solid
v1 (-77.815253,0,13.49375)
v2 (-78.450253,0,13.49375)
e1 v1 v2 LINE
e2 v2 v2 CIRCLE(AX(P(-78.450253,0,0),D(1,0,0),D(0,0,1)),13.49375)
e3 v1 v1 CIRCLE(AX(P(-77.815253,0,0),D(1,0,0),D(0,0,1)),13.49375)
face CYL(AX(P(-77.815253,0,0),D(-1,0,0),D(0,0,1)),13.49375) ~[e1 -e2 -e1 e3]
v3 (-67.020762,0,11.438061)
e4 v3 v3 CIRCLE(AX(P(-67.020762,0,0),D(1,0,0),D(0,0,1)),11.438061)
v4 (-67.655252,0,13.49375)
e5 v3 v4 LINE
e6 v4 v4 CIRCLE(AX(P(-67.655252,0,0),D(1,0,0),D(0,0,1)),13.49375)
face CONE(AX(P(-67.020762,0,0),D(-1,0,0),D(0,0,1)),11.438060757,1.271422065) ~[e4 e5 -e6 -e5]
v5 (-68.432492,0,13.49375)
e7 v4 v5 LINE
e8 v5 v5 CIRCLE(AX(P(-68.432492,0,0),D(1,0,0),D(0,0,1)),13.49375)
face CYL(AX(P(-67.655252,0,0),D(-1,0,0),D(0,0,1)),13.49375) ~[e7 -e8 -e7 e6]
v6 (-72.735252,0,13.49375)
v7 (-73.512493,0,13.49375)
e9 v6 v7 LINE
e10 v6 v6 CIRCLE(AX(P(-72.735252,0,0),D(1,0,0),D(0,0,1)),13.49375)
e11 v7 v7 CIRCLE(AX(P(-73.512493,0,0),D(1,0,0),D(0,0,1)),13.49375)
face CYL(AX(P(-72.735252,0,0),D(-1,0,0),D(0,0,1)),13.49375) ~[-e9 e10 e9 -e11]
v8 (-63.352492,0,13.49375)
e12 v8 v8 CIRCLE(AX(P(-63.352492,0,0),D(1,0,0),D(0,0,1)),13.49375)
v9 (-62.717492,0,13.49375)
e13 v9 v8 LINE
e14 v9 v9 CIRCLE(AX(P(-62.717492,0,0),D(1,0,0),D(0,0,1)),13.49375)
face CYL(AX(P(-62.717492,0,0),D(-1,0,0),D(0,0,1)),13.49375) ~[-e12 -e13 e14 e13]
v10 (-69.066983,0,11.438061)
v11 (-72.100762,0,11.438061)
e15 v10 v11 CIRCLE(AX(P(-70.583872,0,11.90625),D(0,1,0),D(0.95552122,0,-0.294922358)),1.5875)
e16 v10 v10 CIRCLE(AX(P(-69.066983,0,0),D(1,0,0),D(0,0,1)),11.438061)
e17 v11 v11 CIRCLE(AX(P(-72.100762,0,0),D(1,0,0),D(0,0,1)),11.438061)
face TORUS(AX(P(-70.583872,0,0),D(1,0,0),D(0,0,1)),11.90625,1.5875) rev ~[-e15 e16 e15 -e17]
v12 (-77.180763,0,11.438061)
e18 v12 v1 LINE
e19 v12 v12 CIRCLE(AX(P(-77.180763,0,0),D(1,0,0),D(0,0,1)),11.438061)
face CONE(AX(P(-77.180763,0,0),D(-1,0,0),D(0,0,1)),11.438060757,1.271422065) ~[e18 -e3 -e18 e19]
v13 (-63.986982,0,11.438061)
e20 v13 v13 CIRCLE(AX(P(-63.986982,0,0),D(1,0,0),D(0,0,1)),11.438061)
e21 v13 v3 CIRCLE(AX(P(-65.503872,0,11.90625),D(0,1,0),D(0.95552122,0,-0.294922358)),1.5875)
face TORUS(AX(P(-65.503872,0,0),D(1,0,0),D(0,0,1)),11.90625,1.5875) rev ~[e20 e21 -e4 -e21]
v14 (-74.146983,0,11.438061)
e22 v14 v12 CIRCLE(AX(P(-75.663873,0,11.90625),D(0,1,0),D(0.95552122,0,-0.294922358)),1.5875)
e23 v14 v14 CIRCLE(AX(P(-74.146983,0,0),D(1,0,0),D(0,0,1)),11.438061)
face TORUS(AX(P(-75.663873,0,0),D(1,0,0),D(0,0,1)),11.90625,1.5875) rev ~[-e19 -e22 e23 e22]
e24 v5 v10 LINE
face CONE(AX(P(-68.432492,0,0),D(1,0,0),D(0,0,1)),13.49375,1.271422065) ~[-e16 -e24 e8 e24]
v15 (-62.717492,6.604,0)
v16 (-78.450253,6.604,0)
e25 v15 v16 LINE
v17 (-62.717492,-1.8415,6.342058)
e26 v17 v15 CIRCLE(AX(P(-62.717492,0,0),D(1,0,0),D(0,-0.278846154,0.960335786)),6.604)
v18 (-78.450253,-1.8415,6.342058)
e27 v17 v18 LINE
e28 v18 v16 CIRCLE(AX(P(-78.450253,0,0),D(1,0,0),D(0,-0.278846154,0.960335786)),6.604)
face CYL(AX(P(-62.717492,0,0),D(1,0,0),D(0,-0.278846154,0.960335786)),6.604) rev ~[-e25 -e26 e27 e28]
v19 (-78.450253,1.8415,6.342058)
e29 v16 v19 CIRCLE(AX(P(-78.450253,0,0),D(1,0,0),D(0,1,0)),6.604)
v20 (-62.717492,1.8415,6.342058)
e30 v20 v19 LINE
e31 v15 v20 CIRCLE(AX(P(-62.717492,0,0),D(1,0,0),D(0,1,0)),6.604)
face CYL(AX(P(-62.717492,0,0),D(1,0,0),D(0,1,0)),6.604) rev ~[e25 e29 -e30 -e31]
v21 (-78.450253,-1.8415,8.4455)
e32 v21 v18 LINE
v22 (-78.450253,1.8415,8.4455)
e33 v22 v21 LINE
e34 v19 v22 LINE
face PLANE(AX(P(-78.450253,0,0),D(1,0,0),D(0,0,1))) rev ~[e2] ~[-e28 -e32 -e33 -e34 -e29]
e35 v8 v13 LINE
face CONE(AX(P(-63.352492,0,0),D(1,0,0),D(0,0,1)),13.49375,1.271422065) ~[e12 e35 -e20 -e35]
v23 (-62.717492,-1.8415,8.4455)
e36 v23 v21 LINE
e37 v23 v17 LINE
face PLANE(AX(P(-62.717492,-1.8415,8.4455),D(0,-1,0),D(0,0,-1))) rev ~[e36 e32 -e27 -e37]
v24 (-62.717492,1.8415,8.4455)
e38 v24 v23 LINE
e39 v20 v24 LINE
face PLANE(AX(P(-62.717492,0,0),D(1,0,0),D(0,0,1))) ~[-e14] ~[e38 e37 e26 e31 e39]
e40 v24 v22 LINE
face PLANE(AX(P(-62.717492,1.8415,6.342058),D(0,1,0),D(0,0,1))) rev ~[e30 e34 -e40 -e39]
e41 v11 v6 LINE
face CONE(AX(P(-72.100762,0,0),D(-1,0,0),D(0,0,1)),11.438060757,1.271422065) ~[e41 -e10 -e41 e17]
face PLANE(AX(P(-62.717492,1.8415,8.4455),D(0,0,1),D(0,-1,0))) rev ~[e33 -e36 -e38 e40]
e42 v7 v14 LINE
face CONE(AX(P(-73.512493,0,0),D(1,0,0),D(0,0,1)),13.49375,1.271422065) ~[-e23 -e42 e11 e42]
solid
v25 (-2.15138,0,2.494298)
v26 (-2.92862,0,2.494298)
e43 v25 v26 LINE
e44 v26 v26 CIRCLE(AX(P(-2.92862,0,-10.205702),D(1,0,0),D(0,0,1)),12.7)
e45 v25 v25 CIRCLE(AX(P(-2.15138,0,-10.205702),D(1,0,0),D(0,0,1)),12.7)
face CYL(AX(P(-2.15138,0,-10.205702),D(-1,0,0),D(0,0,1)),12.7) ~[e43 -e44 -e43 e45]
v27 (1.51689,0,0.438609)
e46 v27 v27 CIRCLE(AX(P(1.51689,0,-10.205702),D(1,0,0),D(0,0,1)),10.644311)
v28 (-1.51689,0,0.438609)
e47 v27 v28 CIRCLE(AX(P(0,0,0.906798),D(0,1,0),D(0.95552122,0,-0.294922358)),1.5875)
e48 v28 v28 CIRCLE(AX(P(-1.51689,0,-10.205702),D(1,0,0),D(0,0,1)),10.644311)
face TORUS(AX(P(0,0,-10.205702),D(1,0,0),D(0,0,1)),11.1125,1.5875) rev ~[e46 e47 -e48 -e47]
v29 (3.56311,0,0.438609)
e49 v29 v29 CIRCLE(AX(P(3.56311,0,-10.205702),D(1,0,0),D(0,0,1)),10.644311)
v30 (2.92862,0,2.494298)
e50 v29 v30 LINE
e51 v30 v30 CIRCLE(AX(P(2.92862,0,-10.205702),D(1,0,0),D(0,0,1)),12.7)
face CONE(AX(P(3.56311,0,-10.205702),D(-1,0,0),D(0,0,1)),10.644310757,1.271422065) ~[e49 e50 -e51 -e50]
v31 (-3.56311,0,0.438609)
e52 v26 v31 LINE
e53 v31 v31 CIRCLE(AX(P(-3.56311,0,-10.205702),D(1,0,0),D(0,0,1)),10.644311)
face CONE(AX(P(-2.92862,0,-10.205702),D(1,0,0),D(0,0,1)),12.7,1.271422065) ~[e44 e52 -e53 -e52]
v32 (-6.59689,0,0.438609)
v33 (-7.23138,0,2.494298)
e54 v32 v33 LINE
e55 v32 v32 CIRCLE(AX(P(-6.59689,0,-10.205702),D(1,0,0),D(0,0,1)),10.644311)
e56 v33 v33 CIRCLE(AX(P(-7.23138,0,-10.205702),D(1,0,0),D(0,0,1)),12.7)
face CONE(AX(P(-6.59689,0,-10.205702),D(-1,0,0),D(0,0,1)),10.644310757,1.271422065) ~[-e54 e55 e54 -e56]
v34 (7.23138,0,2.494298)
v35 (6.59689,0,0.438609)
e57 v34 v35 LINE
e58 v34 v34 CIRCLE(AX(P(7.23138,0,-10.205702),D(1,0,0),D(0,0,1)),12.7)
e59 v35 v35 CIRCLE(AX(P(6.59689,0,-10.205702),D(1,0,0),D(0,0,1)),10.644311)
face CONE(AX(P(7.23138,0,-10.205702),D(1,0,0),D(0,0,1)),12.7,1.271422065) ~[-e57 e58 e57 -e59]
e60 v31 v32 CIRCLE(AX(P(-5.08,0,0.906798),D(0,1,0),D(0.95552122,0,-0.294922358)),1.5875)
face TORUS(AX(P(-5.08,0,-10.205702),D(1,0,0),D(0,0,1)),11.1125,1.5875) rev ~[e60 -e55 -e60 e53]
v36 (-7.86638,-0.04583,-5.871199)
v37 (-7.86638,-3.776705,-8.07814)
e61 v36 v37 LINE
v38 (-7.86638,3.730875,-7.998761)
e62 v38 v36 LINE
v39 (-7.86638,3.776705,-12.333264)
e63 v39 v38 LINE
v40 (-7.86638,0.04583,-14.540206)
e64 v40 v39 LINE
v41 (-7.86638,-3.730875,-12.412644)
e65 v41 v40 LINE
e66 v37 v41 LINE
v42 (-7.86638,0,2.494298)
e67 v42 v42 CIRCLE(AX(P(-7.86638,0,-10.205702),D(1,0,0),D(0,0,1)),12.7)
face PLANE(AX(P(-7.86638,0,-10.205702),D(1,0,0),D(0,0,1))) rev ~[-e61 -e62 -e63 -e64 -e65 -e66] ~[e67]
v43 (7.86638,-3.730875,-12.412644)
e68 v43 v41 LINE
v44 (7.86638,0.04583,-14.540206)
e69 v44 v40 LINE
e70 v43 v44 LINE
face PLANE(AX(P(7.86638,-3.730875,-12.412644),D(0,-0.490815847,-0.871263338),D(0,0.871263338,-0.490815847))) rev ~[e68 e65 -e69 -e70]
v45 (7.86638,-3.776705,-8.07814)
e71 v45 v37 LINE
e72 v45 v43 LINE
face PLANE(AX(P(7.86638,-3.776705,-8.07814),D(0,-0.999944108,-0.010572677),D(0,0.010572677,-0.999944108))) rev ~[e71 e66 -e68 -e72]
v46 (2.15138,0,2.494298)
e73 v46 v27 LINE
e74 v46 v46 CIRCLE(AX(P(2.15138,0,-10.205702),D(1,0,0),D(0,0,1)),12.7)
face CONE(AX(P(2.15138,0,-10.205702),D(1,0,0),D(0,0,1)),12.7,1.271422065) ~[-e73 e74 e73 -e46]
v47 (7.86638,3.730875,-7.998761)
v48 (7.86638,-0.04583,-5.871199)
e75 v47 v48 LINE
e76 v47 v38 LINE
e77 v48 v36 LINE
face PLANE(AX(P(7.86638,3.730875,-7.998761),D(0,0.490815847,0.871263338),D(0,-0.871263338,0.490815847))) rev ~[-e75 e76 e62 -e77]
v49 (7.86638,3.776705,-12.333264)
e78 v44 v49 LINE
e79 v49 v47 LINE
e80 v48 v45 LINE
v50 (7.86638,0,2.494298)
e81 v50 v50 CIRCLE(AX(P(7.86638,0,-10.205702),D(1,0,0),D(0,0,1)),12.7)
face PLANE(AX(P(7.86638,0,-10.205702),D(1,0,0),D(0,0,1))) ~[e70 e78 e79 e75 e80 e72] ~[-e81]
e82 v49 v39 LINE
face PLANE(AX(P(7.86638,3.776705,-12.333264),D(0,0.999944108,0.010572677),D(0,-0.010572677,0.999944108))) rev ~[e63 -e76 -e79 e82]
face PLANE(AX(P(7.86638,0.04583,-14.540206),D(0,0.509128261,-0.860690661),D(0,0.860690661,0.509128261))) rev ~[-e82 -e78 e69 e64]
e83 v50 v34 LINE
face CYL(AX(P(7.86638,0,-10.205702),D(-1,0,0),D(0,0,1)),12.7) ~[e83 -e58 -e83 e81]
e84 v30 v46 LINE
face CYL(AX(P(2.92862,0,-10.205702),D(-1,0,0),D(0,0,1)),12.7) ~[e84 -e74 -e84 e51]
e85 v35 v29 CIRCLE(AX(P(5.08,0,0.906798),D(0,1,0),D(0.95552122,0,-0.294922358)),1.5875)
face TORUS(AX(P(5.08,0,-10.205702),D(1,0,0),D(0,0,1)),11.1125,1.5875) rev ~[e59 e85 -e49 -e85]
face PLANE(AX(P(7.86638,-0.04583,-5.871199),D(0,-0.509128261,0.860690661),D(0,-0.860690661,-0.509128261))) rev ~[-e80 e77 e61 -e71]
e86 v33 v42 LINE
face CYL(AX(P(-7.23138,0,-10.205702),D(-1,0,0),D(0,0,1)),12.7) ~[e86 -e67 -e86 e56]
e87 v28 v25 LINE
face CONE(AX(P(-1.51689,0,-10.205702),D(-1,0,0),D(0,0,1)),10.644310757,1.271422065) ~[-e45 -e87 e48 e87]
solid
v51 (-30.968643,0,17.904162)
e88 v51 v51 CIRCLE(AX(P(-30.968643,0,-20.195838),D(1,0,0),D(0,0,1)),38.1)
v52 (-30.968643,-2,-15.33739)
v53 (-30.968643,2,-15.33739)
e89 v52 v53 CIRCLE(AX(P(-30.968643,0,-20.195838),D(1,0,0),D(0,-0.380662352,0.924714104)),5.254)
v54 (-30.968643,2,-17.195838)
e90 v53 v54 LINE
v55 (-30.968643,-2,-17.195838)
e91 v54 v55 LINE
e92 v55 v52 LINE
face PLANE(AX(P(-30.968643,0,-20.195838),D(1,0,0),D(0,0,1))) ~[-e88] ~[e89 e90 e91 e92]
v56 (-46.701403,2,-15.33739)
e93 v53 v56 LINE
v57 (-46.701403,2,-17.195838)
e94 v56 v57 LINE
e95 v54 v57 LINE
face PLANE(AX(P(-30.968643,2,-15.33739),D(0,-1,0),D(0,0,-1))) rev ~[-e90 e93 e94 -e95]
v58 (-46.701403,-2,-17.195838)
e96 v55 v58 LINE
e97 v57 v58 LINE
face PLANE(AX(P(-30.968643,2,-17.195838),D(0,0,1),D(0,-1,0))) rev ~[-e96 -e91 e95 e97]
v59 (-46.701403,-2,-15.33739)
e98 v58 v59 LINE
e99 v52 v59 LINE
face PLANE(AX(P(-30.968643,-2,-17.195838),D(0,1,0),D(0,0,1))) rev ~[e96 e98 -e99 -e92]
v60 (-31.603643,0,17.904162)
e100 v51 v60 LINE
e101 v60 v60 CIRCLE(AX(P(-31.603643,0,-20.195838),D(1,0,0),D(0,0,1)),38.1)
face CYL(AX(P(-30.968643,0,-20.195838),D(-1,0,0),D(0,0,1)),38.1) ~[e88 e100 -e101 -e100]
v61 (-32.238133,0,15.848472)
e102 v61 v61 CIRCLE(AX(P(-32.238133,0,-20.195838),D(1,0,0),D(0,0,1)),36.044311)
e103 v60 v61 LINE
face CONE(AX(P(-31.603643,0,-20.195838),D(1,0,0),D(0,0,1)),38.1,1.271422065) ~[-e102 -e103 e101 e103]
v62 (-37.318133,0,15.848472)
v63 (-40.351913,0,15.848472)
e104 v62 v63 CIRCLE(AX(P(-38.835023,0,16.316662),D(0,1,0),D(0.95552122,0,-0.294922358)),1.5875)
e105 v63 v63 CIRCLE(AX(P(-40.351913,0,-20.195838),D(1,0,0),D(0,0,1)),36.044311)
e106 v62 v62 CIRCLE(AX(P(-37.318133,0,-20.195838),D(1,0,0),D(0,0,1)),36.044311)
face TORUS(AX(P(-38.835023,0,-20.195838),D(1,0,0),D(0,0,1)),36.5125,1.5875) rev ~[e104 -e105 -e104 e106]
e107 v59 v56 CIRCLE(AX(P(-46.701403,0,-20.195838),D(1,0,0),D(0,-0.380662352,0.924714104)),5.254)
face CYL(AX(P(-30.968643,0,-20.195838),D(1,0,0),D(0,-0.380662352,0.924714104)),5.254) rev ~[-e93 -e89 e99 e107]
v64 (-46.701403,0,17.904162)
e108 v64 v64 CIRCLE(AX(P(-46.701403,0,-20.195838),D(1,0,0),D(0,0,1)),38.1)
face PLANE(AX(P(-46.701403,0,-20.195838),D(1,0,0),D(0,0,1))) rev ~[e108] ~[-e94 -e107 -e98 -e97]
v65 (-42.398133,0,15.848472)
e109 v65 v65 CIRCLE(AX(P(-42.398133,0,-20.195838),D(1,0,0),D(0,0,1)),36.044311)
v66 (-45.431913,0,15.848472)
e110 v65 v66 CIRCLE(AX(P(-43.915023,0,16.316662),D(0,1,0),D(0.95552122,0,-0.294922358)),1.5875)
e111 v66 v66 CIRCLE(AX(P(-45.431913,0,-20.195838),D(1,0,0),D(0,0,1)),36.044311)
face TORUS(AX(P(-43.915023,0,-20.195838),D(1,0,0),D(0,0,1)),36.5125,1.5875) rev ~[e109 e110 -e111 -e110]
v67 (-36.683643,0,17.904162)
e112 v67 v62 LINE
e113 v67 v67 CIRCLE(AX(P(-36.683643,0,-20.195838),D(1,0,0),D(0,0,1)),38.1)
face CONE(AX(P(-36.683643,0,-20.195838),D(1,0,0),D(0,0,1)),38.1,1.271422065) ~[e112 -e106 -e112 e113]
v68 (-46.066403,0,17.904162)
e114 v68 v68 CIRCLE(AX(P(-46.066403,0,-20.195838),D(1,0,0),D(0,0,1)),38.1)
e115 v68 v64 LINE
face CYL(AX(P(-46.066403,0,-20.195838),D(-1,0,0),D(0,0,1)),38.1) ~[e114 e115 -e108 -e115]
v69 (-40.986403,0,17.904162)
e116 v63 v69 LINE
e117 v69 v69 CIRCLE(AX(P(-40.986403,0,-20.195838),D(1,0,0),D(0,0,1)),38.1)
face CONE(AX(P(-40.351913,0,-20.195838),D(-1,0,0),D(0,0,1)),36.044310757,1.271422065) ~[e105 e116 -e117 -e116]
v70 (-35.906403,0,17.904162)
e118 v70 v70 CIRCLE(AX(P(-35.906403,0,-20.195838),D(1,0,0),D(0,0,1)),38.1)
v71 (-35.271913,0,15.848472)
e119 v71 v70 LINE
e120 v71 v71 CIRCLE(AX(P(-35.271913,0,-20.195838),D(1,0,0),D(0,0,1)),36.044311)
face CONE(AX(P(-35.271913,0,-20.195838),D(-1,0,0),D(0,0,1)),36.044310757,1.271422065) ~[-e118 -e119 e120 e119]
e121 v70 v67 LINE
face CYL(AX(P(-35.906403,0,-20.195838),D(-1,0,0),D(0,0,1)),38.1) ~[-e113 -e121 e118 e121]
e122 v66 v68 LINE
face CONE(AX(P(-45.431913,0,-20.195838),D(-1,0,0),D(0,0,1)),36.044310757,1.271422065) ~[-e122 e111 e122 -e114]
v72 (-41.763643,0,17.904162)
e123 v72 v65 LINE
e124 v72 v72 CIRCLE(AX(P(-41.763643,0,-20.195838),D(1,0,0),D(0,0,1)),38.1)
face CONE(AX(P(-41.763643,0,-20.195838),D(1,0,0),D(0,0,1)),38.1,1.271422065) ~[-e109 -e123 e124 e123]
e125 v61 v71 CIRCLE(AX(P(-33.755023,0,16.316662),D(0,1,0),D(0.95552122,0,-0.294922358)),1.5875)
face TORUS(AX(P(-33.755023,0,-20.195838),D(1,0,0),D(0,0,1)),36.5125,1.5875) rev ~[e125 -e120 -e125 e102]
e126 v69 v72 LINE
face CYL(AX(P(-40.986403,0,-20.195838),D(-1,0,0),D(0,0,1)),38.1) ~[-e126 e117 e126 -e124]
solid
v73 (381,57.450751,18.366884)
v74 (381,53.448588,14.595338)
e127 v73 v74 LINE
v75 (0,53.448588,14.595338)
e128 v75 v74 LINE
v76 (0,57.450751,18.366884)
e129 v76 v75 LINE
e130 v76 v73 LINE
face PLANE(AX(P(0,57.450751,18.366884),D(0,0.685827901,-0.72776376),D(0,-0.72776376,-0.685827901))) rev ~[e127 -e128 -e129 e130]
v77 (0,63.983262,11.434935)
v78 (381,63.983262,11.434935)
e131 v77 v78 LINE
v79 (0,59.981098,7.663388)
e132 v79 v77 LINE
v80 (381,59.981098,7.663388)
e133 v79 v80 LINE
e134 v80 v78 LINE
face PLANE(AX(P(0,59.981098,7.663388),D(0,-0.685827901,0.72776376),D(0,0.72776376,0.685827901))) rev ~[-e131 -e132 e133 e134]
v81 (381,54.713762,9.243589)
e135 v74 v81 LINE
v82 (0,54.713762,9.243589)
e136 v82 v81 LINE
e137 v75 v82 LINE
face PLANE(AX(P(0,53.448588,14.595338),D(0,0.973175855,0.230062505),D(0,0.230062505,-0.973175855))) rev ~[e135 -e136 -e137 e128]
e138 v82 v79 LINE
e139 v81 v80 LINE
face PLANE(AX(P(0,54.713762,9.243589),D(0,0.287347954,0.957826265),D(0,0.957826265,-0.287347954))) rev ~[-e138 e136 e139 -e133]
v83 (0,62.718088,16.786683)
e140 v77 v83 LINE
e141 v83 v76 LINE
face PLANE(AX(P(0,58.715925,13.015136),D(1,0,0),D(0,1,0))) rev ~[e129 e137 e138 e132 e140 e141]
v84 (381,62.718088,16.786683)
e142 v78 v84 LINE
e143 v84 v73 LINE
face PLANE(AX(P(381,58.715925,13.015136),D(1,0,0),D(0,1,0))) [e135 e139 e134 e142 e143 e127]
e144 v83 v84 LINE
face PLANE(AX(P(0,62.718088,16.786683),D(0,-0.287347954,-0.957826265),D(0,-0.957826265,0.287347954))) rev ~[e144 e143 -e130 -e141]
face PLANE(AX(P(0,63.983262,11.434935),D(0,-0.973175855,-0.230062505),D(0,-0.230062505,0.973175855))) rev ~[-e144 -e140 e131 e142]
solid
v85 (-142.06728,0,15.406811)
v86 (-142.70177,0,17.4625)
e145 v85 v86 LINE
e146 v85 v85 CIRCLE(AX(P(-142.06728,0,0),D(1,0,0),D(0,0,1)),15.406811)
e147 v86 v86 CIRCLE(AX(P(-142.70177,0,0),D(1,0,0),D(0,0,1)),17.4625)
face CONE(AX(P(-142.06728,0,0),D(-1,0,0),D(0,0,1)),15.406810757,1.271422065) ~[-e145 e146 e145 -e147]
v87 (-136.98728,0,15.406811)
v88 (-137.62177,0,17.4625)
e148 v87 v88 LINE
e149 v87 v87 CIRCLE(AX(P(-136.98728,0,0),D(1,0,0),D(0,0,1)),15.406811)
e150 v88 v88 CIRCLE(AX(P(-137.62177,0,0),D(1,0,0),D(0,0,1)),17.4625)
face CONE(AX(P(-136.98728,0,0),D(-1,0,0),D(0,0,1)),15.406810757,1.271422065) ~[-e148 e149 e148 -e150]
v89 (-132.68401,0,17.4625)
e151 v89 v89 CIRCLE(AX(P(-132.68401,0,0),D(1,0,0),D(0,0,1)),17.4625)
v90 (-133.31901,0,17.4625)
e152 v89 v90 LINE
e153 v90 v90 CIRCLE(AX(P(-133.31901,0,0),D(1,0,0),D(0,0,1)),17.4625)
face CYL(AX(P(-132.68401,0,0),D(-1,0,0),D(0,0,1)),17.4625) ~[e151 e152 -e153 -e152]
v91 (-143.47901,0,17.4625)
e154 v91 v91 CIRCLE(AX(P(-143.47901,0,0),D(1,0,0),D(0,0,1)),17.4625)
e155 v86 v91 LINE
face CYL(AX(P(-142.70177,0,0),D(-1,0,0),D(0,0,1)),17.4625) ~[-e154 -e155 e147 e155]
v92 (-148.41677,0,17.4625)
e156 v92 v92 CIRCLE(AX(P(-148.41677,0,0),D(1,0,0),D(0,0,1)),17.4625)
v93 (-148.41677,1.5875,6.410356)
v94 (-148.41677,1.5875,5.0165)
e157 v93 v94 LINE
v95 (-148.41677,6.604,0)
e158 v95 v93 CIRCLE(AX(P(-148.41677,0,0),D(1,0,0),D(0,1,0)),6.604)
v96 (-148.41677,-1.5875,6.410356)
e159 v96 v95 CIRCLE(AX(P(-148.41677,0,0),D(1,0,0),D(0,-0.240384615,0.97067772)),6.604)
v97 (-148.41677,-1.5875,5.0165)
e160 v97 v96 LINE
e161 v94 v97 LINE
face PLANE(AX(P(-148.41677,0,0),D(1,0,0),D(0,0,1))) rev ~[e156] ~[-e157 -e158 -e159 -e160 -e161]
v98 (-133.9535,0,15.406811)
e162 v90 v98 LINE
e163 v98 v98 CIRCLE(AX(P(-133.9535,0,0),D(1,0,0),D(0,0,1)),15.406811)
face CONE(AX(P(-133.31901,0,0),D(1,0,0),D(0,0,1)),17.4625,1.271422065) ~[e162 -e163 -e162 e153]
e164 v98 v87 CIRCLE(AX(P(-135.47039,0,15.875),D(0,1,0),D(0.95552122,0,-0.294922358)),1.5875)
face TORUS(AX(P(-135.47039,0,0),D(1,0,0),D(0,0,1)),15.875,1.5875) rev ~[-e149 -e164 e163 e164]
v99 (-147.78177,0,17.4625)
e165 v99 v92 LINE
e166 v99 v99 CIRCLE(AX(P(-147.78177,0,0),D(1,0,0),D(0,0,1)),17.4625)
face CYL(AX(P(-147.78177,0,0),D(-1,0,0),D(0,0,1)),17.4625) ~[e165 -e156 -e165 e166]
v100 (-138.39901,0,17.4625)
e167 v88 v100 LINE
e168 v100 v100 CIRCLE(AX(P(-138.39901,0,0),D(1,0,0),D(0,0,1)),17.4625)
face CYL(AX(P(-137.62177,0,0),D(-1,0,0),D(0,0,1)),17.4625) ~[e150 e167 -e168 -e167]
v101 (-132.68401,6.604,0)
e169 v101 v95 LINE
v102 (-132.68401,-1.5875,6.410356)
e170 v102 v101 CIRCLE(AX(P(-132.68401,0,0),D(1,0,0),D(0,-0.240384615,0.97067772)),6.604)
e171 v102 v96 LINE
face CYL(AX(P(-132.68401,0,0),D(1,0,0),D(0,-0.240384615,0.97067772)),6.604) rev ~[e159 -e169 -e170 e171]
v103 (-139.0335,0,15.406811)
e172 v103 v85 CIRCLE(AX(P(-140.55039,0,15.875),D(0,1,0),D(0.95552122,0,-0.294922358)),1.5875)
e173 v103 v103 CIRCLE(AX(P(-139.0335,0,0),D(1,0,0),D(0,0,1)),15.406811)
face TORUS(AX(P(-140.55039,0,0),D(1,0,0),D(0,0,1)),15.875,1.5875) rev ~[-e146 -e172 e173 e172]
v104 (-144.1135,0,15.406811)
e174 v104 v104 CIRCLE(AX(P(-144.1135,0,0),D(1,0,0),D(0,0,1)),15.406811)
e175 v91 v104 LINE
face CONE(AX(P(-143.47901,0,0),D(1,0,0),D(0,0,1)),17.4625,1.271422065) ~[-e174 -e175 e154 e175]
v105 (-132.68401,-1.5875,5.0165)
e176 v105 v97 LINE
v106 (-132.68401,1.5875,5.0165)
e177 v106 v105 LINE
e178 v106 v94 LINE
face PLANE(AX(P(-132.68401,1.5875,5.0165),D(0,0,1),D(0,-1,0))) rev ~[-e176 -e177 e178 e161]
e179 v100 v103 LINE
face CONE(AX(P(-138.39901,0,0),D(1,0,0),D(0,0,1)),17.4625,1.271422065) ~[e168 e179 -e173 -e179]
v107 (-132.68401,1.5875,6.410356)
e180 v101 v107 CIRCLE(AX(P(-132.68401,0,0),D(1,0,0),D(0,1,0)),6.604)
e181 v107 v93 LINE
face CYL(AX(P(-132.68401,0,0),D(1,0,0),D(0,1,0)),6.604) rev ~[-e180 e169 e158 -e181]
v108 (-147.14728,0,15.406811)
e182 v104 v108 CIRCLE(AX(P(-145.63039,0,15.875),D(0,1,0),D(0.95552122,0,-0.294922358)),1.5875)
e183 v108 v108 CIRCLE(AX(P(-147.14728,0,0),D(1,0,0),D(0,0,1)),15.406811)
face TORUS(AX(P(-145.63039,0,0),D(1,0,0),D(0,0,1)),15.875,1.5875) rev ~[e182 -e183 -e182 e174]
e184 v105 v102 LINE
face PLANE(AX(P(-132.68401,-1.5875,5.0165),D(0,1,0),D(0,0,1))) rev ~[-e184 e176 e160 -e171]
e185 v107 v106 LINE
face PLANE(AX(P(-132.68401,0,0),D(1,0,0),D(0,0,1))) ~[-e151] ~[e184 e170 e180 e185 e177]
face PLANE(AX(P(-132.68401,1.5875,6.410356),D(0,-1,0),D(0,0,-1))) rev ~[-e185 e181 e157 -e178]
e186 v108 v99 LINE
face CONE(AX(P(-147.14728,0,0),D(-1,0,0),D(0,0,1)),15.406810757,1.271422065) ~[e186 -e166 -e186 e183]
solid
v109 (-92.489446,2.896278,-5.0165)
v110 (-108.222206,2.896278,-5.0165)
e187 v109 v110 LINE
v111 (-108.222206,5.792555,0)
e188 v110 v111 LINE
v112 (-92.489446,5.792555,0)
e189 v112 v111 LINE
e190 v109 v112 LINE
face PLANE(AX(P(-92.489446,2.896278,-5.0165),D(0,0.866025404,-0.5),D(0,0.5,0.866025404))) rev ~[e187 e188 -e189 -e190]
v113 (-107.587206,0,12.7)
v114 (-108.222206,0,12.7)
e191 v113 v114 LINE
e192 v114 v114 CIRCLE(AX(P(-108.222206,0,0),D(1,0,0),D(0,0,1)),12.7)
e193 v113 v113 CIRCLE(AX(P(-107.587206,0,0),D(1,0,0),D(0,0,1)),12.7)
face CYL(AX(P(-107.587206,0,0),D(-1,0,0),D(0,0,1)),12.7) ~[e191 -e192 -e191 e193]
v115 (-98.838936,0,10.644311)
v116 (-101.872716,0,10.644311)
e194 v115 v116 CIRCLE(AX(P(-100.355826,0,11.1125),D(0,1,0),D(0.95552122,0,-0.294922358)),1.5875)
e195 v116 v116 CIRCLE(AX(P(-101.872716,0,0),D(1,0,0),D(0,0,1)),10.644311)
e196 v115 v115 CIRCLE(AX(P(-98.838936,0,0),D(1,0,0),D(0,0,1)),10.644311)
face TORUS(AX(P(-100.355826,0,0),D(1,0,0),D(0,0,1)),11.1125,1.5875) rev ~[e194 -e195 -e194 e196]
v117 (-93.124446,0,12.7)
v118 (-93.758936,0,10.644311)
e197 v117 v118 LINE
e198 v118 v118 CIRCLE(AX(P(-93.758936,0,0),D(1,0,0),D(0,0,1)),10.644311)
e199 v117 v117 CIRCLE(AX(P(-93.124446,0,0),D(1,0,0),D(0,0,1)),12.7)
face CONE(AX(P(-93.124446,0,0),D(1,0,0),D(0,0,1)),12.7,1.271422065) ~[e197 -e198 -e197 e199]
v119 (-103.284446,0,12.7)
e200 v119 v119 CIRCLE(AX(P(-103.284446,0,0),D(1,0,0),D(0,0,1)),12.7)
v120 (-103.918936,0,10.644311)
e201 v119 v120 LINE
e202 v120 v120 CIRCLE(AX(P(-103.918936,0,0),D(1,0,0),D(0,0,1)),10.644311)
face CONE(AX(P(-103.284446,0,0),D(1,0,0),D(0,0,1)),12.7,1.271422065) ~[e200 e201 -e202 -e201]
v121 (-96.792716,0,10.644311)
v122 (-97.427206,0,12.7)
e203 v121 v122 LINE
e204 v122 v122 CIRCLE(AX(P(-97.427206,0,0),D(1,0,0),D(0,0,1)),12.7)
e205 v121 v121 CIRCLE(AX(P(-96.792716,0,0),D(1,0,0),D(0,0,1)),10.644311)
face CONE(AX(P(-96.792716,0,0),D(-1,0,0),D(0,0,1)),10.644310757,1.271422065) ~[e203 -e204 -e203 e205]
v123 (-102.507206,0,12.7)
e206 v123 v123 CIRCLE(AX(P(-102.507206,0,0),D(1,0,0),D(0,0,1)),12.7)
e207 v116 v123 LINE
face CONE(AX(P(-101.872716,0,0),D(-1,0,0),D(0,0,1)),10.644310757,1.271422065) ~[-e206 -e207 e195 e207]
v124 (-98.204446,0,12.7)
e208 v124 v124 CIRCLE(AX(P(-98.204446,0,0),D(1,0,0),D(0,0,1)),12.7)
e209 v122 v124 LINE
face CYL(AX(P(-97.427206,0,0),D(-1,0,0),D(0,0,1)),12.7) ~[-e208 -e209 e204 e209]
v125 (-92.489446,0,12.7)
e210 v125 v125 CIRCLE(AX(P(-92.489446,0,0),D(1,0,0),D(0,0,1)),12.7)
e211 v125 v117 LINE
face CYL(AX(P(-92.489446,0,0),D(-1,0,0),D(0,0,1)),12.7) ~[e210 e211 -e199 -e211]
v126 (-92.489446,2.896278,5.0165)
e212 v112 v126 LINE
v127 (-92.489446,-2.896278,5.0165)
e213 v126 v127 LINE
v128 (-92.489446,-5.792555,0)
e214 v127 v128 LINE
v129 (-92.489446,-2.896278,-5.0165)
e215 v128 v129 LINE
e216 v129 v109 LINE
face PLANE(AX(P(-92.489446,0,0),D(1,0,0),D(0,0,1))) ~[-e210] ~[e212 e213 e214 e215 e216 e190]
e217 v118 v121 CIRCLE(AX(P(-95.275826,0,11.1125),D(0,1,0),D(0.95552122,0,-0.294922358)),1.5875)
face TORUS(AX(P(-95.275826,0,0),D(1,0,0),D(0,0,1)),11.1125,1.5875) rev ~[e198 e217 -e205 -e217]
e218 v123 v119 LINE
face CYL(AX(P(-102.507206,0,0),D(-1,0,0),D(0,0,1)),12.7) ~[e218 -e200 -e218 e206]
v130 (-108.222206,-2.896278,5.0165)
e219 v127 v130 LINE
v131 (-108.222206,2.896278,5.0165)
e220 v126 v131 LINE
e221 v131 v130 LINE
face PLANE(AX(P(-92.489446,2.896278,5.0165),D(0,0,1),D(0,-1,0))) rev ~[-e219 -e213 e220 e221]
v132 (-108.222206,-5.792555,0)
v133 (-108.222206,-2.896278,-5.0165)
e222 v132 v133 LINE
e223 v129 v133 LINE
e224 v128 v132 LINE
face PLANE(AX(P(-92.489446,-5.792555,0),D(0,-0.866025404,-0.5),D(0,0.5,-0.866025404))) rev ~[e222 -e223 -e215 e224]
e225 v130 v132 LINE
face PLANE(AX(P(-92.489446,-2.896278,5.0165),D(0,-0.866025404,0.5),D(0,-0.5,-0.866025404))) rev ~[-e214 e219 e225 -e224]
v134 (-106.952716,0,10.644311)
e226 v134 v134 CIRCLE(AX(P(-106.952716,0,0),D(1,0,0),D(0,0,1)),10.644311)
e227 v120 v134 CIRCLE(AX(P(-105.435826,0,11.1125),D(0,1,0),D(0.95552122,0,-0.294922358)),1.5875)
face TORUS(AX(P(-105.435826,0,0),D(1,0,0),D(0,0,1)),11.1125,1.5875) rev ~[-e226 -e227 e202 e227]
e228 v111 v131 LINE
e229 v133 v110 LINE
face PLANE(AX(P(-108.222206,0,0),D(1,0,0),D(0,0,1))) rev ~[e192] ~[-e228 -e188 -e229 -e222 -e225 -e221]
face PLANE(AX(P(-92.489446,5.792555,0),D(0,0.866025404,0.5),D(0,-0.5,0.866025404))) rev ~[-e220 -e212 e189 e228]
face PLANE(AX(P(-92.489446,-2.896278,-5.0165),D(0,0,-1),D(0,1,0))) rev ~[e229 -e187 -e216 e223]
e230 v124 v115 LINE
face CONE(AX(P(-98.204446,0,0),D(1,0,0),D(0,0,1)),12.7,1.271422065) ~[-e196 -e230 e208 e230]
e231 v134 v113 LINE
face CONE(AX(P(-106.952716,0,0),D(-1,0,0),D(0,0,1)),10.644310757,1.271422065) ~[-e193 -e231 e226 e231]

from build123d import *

# Parameters (mm, degrees)
F1_DEPTH  = 381
F6_DEPTH  = 25.4
F8_DEPTH  = 25.4
F11_DEPTH = 45.5057139726
F13_DEPTH = 15.7337601514
F16_DEPTH = 15.7337601514


with BuildPart() as f1:
    # F0 (on Right) → F1 (new body)
    with BuildSketch(Plane.YZ):
        Polygon((62.7180877117, 16.7866829661), (57.4507507882, 18.3668844514), (53.4485876971, 14.595337608), (54.7137615295, 9.2435892793), (59.981098453, 7.663387794), (63.9832615442, 11.4349346374), align=None)
    extrude(amount=F1_DEPTH)


with BuildPart() as f3:
    # F2 (on Front) → F3 (revolve)
    with BuildSketch(Plane.XZ):
        with BuildLine():
            ThreePointArc((-42.3981334515, 15.8484723679), (-43.915023389, 14.7291616112), (-45.4319133265, 15.8484723679))
            Line((-45.4319133265, 15.8484723679), (-46.066403389, 17.9041616112))
            Line((-46.066403389, 17.9041616112), (-46.701403389, 17.9041616112))
            Line((-46.701403389, 17.9041616112), (-46.701403389, -20.1958383888))
            Line((-46.701403389, -20.1958383888), (-30.9686432376, -20.1958383888))
            Line((-30.9686432376, -20.1958383888), (-30.9686432376, 17.9041616112))
            Line((-30.9686432376, 17.9041616112), (-31.6036432376, 17.9041616112))
            Line((-31.6036432376, 17.9041616112), (-32.2381333001, 15.8484723679))
            ThreePointArc((-32.2381333001, 15.8484723679), (-33.7550232376, 14.7291616112), (-35.2719131751, 15.8484723679))
            Line((-35.2719131751, 15.8484723679), (-35.9064032376, 17.9041616112))
            Line((-35.9064032376, 17.9041616112), (-36.6836433133, 17.9041616112))
            Line((-36.6836433133, 17.9041616112), (-37.3181333758, 15.8484723679))
            ThreePointArc((-37.3181333758, 15.8484723679), (-38.8350233133, 14.7291616112), (-40.3519132508, 15.8484723679))
            Line((-40.3519132508, 15.8484723679), (-40.9864033133, 17.9041616112))
            Line((-40.9864033133, 17.9041616112), (-41.763643389, 17.9041616112))
            Line((-41.763643389, 17.9041616112), (-42.3981334515, 15.8484723679))
        make_face()
    revolve(axis=Axis((-38.8350233133, 0, -20.1958383888), (1, 0, 0)))

    # F7 (on face) → F8 (cut)
    with BuildSketch(Plane.YZ.offset(-30.9686432376)):
        with BuildLine():
            Line((-2, -17.1958383888), (-2, -15.3373904885))
            ThreePointArc((-2, -15.3373904885), (0, -25.4498383888), (2, -15.3373904885))
            Line((2, -15.3373904885), (2, -17.1958383888))
            Line((2, -17.1958383888), (-2, -17.1958383888))
        make_face()
    extrude(amount=-F8_DEPTH, mode=Mode.SUBTRACT)


with BuildPart() as f4:
    # F2 (on Front) → F4 (revolve)
    with BuildSketch(Plane.XZ):
        with BuildLine():
            ThreePointArc((-3.5631101382, 0.438608541), (-5.0800000757, -0.6807022157), (-6.5968900132, 0.438608541))
            Line((-6.5968900132, 0.438608541), (-7.2313800757, 2.4942977843))
            Line((-7.2313800757, 2.4942977843), (-7.8663800757, 2.4942977843))
            Line((-7.8663800757, 2.4942977843), (-7.8663800757, -10.2057022157))
            Line((-7.8663800757, -10.2057022157), (7.8663800757, -10.2057022157))
            Line((7.8663800757, -10.2057022157), (7.8663800757, 2.4942977843))
            Line((7.8663800757, 2.4942977843), (7.2313800757, 2.4942977843))
            Line((7.2313800757, 2.4942977843), (6.5968900132, 0.438608541))
            ThreePointArc((6.5968900132, 0.438608541), (5.0800000757, -0.6807022157), (3.5631101382, 0.438608541))
            Line((3.5631101382, 0.438608541), (2.9286200757, 2.4942977843))
            Line((2.9286200757, 2.4942977843), (2.15138, 2.4942977843))
            Line((2.15138, 2.4942977843), (1.5168899375, 0.438608541))
            ThreePointArc((1.5168899375, 0.438608541), (0, -0.6807022157), (-1.5168899375, 0.438608541))
            Line((-1.5168899375, 0.438608541), (-2.15138, 2.4942977843))
            Line((-2.15138, 2.4942977843), (-2.9286200757, 2.4942977843))
            Line((-2.9286200757, 2.4942977843), (-3.5631101382, 0.438608541))
        make_face()
    revolve(axis=Axis((0, 0, -10.2057022157), (1, 0, 0)))

    # F5 (on face) → F6 (cut)
    with BuildSketch(Plane.YZ.offset(7.8663800757)):
        Polygon((3.7308752467, -7.9987606153), (-0.0458298672, -5.8711986736), (-3.7767051139, -8.0781402739), (-3.7308752467, -12.412643816), (0.0458298672, -14.5402057578), (3.7767051139, -12.3332641575), align=None)
    extrude(amount=-F6_DEPTH, mode=Mode.SUBTRACT)


with BuildPart() as f9:
    # F2 (on Front) → F9 (revolve)
    with BuildSketch(Plane.XZ):
        with BuildLine():
            ThreePointArc((-74.1469826353, 11.4380607567), (-75.6638725728, 10.31875), (-77.1807625103, 11.4380607567))
            Line((-77.1807625103, 11.4380607567), (-77.8152525728, 13.49375))
            Line((-77.8152525728, 13.49375), (-78.4502525728, 13.49375))
            Line((-78.4502525728, 13.49375), (-78.4502525728, 0))
            Line((-78.4502525728, 0), (-62.7174924214, 0))
            Line((-62.7174924214, 0), (-62.7174924214, 13.49375))
            Line((-62.7174924214, 13.49375), (-63.3524924214, 13.49375))
            Line((-63.3524924214, 13.49375), (-63.9869824839, 11.4380607567))
            ThreePointArc((-63.9869824839, 11.4380607567), (-65.5038724214, 10.31875), (-67.0207623589, 11.4380607567))
            Line((-67.0207623589, 11.4380607567), (-67.6552524214, 13.49375))
            Line((-67.6552524214, 13.49375), (-68.4324924971, 13.49375))
            Line((-68.4324924971, 13.49375), (-69.0669825596, 11.4380607567))
            ThreePointArc((-69.0669825596, 11.4380607567), (-70.5838724971, 10.31875), (-72.1007624346, 11.4380607567))
            Line((-72.1007624346, 11.4380607567), (-72.7352524971, 13.49375))
            Line((-72.7352524971, 13.49375), (-73.5124925728, 13.49375))
            Line((-73.5124925728, 13.49375), (-74.1469826353, 11.4380607567))
        make_face()
    revolve(axis=Axis((-70.5838724971, 0, 0), (1, 0, 0)))

    # F10 (on face) → F11 (cut, through all)
    with BuildSketch(Plane.YZ.offset(-62.7174924214)):
        with BuildLine():
            ThreePointArc((-1.8415, 6.3420575329), (-3.965573729, -5.2808182131), (6.604, 0))
            ThreePointArc((6.604, 0), (5.2808182131, 3.965573729), (1.8415, 6.3420575329))
            Line((1.8415, 6.3420575329), (1.8415, 4.7625))
            Line((1.8415, 4.7625), (-1.8415, 4.7625))
            Line((-1.8415, 4.7625), (-1.8415, 6.3420575329))
        make_face()
        with BuildLine():
            Line((1.8415, 4.7625), (1.8415, 6.3420575329))
            ThreePointArc((1.8415, 6.3420575329), (0, 6.604), (-1.8415, 6.3420575329))
            Line((-1.8415, 6.3420575329), (-1.8415, 4.7625))
            Line((-1.8415, 4.7625), (1.8415, 4.7625))
        make_face()
        with BuildLine():
            ThreePointArc((-1.8415, 6.3420575329), (0, 6.604), (1.8415, 6.3420575329))
            Line((1.8415, 6.3420575329), (1.8415, 8.4455))
            Line((1.8415, 8.4455), (-1.8415, 8.4455))
            Line((-1.8415, 8.4455), (-1.8415, 6.3420575329))
        make_face()
    extrude(amount=-F11_DEPTH, mode=Mode.SUBTRACT)


with BuildPart() as f9b:
    # F2 (on Front) → F9, piece 2 (revolve)
    with BuildSketch(Plane.XZ):
        with BuildLine():
            ThreePointArc((-103.9189364565, 10.6443107567), (-105.435826394, 9.525), (-106.9527163315, 10.6443107567))
            Line((-106.9527163315, 10.6443107567), (-107.587206394, 12.7))
            Line((-107.587206394, 12.7), (-108.222206394, 12.7))
            Line((-108.222206394, 12.7), (-108.222206394, 0))
            Line((-108.222206394, 0), (-92.4894462426, 0))
            Line((-92.4894462426, 0), (-92.4894462426, 12.7))
            Line((-92.4894462426, 12.7), (-93.1244462426, 12.7))
            Line((-93.1244462426, 12.7), (-93.7589363051, 10.6443107567))
            ThreePointArc((-93.7589363051, 10.6443107567), (-95.2758262426, 9.525), (-96.7927161801, 10.6443107567))
            Line((-96.7927161801, 10.6443107567), (-97.4272062426, 12.7))
            Line((-97.4272062426, 12.7), (-98.2044463183, 12.7))
            Line((-98.2044463183, 12.7), (-98.8389363808, 10.6443107567))
            ThreePointArc((-98.8389363808, 10.6443107567), (-100.3558263183, 9.525), (-101.8727162558, 10.6443107567))
            Line((-101.8727162558, 10.6443107567), (-102.5072063183, 12.7))
            Line((-102.5072063183, 12.7), (-103.284446394, 12.7))
            Line((-103.284446394, 12.7), (-103.9189364565, 10.6443107567))
        make_face()
    revolve(axis=Axis((-70.5838724971, 0, 0), (1, 0, 0)))

    # F12 (on face) → F13 (cut, through all)
    with BuildSketch(Plane.YZ.offset(-92.4894462426)):
        Polygon((2.8962776254, 5.0165), (-2.8962776254, 5.0165), (-5.7925552508, 0), (-2.8962776254, -5.0165), (2.8962776254, -5.0165), (5.7925552508, 0), align=None)
    extrude(amount=-F13_DEPTH, mode=Mode.SUBTRACT)


with BuildPart() as f14:
    # F2 (on Front) → F14 (revolve)
    with BuildSketch(Plane.XZ):
        with BuildLine():
            ThreePointArc((-144.1135000241, 15.4068107567), (-145.6303899616, 14.2875), (-147.1472798991, 15.4068107567))
            Line((-147.1472798991, 15.4068107567), (-147.7817699616, 17.4625))
            Line((-147.7817699616, 17.4625), (-148.4167699616, 17.4625))
            Line((-148.4167699616, 17.4625), (-148.4167699616, 0))
            Line((-148.4167699616, 0), (-132.6840098102, 0))
            Line((-132.6840098102, 0), (-132.6840098102, 17.4625))
            Line((-132.6840098102, 17.4625), (-133.3190098102, 17.4625))
            Line((-133.3190098102, 17.4625), (-133.9534998727, 15.4068107567))
            ThreePointArc((-133.9534998727, 15.4068107567), (-135.4703898102, 14.2875), (-136.9872797477, 15.4068107567))
            Line((-136.9872797477, 15.4068107567), (-137.6217698102, 17.4625))
            Line((-137.6217698102, 17.4625), (-138.3990098859, 17.4625))
            Line((-138.3990098859, 17.4625), (-139.0334999484, 15.4068107567))
            ThreePointArc((-139.0334999484, 15.4068107567), (-140.5503898859, 14.2875), (-142.0672798234, 15.4068107567))
            Line((-142.0672798234, 15.4068107567), (-142.7017698859, 17.4625))
            Line((-142.7017698859, 17.4625), (-143.4790099616, 17.4625))
            Line((-143.4790099616, 17.4625), (-144.1135000241, 15.4068107567))
        make_face()
    revolve(axis=Axis((-140.5503898859, 0, 0), (1, 0, 0)))

    # F15 (on face) → F16 (cut, through all)
    with BuildSketch(Plane.YZ.offset(-132.6840098102)):
        with BuildLine():
            ThreePointArc((-1.5875, 6.4103556649), (-4.0699487712, -5.2008011883), (6.604, 0))
            ThreePointArc((6.604, 0), (5.2008011883, 4.0699487712), (1.5875, 6.4103556649))
            Line((1.5875, 6.4103556649), (1.5875, 5.0165))
            Line((1.5875, 5.0165), (-1.5875, 5.0165))
            Line((-1.5875, 5.0165), (-1.5875, 6.4103556649))
        make_face()
    extrude(amount=-F16_DEPTH, mode=Mode.SUBTRACT)


solid = Compound([f1.part, f3.part, f4.part, f9.part, f9b.part, f14.part])
